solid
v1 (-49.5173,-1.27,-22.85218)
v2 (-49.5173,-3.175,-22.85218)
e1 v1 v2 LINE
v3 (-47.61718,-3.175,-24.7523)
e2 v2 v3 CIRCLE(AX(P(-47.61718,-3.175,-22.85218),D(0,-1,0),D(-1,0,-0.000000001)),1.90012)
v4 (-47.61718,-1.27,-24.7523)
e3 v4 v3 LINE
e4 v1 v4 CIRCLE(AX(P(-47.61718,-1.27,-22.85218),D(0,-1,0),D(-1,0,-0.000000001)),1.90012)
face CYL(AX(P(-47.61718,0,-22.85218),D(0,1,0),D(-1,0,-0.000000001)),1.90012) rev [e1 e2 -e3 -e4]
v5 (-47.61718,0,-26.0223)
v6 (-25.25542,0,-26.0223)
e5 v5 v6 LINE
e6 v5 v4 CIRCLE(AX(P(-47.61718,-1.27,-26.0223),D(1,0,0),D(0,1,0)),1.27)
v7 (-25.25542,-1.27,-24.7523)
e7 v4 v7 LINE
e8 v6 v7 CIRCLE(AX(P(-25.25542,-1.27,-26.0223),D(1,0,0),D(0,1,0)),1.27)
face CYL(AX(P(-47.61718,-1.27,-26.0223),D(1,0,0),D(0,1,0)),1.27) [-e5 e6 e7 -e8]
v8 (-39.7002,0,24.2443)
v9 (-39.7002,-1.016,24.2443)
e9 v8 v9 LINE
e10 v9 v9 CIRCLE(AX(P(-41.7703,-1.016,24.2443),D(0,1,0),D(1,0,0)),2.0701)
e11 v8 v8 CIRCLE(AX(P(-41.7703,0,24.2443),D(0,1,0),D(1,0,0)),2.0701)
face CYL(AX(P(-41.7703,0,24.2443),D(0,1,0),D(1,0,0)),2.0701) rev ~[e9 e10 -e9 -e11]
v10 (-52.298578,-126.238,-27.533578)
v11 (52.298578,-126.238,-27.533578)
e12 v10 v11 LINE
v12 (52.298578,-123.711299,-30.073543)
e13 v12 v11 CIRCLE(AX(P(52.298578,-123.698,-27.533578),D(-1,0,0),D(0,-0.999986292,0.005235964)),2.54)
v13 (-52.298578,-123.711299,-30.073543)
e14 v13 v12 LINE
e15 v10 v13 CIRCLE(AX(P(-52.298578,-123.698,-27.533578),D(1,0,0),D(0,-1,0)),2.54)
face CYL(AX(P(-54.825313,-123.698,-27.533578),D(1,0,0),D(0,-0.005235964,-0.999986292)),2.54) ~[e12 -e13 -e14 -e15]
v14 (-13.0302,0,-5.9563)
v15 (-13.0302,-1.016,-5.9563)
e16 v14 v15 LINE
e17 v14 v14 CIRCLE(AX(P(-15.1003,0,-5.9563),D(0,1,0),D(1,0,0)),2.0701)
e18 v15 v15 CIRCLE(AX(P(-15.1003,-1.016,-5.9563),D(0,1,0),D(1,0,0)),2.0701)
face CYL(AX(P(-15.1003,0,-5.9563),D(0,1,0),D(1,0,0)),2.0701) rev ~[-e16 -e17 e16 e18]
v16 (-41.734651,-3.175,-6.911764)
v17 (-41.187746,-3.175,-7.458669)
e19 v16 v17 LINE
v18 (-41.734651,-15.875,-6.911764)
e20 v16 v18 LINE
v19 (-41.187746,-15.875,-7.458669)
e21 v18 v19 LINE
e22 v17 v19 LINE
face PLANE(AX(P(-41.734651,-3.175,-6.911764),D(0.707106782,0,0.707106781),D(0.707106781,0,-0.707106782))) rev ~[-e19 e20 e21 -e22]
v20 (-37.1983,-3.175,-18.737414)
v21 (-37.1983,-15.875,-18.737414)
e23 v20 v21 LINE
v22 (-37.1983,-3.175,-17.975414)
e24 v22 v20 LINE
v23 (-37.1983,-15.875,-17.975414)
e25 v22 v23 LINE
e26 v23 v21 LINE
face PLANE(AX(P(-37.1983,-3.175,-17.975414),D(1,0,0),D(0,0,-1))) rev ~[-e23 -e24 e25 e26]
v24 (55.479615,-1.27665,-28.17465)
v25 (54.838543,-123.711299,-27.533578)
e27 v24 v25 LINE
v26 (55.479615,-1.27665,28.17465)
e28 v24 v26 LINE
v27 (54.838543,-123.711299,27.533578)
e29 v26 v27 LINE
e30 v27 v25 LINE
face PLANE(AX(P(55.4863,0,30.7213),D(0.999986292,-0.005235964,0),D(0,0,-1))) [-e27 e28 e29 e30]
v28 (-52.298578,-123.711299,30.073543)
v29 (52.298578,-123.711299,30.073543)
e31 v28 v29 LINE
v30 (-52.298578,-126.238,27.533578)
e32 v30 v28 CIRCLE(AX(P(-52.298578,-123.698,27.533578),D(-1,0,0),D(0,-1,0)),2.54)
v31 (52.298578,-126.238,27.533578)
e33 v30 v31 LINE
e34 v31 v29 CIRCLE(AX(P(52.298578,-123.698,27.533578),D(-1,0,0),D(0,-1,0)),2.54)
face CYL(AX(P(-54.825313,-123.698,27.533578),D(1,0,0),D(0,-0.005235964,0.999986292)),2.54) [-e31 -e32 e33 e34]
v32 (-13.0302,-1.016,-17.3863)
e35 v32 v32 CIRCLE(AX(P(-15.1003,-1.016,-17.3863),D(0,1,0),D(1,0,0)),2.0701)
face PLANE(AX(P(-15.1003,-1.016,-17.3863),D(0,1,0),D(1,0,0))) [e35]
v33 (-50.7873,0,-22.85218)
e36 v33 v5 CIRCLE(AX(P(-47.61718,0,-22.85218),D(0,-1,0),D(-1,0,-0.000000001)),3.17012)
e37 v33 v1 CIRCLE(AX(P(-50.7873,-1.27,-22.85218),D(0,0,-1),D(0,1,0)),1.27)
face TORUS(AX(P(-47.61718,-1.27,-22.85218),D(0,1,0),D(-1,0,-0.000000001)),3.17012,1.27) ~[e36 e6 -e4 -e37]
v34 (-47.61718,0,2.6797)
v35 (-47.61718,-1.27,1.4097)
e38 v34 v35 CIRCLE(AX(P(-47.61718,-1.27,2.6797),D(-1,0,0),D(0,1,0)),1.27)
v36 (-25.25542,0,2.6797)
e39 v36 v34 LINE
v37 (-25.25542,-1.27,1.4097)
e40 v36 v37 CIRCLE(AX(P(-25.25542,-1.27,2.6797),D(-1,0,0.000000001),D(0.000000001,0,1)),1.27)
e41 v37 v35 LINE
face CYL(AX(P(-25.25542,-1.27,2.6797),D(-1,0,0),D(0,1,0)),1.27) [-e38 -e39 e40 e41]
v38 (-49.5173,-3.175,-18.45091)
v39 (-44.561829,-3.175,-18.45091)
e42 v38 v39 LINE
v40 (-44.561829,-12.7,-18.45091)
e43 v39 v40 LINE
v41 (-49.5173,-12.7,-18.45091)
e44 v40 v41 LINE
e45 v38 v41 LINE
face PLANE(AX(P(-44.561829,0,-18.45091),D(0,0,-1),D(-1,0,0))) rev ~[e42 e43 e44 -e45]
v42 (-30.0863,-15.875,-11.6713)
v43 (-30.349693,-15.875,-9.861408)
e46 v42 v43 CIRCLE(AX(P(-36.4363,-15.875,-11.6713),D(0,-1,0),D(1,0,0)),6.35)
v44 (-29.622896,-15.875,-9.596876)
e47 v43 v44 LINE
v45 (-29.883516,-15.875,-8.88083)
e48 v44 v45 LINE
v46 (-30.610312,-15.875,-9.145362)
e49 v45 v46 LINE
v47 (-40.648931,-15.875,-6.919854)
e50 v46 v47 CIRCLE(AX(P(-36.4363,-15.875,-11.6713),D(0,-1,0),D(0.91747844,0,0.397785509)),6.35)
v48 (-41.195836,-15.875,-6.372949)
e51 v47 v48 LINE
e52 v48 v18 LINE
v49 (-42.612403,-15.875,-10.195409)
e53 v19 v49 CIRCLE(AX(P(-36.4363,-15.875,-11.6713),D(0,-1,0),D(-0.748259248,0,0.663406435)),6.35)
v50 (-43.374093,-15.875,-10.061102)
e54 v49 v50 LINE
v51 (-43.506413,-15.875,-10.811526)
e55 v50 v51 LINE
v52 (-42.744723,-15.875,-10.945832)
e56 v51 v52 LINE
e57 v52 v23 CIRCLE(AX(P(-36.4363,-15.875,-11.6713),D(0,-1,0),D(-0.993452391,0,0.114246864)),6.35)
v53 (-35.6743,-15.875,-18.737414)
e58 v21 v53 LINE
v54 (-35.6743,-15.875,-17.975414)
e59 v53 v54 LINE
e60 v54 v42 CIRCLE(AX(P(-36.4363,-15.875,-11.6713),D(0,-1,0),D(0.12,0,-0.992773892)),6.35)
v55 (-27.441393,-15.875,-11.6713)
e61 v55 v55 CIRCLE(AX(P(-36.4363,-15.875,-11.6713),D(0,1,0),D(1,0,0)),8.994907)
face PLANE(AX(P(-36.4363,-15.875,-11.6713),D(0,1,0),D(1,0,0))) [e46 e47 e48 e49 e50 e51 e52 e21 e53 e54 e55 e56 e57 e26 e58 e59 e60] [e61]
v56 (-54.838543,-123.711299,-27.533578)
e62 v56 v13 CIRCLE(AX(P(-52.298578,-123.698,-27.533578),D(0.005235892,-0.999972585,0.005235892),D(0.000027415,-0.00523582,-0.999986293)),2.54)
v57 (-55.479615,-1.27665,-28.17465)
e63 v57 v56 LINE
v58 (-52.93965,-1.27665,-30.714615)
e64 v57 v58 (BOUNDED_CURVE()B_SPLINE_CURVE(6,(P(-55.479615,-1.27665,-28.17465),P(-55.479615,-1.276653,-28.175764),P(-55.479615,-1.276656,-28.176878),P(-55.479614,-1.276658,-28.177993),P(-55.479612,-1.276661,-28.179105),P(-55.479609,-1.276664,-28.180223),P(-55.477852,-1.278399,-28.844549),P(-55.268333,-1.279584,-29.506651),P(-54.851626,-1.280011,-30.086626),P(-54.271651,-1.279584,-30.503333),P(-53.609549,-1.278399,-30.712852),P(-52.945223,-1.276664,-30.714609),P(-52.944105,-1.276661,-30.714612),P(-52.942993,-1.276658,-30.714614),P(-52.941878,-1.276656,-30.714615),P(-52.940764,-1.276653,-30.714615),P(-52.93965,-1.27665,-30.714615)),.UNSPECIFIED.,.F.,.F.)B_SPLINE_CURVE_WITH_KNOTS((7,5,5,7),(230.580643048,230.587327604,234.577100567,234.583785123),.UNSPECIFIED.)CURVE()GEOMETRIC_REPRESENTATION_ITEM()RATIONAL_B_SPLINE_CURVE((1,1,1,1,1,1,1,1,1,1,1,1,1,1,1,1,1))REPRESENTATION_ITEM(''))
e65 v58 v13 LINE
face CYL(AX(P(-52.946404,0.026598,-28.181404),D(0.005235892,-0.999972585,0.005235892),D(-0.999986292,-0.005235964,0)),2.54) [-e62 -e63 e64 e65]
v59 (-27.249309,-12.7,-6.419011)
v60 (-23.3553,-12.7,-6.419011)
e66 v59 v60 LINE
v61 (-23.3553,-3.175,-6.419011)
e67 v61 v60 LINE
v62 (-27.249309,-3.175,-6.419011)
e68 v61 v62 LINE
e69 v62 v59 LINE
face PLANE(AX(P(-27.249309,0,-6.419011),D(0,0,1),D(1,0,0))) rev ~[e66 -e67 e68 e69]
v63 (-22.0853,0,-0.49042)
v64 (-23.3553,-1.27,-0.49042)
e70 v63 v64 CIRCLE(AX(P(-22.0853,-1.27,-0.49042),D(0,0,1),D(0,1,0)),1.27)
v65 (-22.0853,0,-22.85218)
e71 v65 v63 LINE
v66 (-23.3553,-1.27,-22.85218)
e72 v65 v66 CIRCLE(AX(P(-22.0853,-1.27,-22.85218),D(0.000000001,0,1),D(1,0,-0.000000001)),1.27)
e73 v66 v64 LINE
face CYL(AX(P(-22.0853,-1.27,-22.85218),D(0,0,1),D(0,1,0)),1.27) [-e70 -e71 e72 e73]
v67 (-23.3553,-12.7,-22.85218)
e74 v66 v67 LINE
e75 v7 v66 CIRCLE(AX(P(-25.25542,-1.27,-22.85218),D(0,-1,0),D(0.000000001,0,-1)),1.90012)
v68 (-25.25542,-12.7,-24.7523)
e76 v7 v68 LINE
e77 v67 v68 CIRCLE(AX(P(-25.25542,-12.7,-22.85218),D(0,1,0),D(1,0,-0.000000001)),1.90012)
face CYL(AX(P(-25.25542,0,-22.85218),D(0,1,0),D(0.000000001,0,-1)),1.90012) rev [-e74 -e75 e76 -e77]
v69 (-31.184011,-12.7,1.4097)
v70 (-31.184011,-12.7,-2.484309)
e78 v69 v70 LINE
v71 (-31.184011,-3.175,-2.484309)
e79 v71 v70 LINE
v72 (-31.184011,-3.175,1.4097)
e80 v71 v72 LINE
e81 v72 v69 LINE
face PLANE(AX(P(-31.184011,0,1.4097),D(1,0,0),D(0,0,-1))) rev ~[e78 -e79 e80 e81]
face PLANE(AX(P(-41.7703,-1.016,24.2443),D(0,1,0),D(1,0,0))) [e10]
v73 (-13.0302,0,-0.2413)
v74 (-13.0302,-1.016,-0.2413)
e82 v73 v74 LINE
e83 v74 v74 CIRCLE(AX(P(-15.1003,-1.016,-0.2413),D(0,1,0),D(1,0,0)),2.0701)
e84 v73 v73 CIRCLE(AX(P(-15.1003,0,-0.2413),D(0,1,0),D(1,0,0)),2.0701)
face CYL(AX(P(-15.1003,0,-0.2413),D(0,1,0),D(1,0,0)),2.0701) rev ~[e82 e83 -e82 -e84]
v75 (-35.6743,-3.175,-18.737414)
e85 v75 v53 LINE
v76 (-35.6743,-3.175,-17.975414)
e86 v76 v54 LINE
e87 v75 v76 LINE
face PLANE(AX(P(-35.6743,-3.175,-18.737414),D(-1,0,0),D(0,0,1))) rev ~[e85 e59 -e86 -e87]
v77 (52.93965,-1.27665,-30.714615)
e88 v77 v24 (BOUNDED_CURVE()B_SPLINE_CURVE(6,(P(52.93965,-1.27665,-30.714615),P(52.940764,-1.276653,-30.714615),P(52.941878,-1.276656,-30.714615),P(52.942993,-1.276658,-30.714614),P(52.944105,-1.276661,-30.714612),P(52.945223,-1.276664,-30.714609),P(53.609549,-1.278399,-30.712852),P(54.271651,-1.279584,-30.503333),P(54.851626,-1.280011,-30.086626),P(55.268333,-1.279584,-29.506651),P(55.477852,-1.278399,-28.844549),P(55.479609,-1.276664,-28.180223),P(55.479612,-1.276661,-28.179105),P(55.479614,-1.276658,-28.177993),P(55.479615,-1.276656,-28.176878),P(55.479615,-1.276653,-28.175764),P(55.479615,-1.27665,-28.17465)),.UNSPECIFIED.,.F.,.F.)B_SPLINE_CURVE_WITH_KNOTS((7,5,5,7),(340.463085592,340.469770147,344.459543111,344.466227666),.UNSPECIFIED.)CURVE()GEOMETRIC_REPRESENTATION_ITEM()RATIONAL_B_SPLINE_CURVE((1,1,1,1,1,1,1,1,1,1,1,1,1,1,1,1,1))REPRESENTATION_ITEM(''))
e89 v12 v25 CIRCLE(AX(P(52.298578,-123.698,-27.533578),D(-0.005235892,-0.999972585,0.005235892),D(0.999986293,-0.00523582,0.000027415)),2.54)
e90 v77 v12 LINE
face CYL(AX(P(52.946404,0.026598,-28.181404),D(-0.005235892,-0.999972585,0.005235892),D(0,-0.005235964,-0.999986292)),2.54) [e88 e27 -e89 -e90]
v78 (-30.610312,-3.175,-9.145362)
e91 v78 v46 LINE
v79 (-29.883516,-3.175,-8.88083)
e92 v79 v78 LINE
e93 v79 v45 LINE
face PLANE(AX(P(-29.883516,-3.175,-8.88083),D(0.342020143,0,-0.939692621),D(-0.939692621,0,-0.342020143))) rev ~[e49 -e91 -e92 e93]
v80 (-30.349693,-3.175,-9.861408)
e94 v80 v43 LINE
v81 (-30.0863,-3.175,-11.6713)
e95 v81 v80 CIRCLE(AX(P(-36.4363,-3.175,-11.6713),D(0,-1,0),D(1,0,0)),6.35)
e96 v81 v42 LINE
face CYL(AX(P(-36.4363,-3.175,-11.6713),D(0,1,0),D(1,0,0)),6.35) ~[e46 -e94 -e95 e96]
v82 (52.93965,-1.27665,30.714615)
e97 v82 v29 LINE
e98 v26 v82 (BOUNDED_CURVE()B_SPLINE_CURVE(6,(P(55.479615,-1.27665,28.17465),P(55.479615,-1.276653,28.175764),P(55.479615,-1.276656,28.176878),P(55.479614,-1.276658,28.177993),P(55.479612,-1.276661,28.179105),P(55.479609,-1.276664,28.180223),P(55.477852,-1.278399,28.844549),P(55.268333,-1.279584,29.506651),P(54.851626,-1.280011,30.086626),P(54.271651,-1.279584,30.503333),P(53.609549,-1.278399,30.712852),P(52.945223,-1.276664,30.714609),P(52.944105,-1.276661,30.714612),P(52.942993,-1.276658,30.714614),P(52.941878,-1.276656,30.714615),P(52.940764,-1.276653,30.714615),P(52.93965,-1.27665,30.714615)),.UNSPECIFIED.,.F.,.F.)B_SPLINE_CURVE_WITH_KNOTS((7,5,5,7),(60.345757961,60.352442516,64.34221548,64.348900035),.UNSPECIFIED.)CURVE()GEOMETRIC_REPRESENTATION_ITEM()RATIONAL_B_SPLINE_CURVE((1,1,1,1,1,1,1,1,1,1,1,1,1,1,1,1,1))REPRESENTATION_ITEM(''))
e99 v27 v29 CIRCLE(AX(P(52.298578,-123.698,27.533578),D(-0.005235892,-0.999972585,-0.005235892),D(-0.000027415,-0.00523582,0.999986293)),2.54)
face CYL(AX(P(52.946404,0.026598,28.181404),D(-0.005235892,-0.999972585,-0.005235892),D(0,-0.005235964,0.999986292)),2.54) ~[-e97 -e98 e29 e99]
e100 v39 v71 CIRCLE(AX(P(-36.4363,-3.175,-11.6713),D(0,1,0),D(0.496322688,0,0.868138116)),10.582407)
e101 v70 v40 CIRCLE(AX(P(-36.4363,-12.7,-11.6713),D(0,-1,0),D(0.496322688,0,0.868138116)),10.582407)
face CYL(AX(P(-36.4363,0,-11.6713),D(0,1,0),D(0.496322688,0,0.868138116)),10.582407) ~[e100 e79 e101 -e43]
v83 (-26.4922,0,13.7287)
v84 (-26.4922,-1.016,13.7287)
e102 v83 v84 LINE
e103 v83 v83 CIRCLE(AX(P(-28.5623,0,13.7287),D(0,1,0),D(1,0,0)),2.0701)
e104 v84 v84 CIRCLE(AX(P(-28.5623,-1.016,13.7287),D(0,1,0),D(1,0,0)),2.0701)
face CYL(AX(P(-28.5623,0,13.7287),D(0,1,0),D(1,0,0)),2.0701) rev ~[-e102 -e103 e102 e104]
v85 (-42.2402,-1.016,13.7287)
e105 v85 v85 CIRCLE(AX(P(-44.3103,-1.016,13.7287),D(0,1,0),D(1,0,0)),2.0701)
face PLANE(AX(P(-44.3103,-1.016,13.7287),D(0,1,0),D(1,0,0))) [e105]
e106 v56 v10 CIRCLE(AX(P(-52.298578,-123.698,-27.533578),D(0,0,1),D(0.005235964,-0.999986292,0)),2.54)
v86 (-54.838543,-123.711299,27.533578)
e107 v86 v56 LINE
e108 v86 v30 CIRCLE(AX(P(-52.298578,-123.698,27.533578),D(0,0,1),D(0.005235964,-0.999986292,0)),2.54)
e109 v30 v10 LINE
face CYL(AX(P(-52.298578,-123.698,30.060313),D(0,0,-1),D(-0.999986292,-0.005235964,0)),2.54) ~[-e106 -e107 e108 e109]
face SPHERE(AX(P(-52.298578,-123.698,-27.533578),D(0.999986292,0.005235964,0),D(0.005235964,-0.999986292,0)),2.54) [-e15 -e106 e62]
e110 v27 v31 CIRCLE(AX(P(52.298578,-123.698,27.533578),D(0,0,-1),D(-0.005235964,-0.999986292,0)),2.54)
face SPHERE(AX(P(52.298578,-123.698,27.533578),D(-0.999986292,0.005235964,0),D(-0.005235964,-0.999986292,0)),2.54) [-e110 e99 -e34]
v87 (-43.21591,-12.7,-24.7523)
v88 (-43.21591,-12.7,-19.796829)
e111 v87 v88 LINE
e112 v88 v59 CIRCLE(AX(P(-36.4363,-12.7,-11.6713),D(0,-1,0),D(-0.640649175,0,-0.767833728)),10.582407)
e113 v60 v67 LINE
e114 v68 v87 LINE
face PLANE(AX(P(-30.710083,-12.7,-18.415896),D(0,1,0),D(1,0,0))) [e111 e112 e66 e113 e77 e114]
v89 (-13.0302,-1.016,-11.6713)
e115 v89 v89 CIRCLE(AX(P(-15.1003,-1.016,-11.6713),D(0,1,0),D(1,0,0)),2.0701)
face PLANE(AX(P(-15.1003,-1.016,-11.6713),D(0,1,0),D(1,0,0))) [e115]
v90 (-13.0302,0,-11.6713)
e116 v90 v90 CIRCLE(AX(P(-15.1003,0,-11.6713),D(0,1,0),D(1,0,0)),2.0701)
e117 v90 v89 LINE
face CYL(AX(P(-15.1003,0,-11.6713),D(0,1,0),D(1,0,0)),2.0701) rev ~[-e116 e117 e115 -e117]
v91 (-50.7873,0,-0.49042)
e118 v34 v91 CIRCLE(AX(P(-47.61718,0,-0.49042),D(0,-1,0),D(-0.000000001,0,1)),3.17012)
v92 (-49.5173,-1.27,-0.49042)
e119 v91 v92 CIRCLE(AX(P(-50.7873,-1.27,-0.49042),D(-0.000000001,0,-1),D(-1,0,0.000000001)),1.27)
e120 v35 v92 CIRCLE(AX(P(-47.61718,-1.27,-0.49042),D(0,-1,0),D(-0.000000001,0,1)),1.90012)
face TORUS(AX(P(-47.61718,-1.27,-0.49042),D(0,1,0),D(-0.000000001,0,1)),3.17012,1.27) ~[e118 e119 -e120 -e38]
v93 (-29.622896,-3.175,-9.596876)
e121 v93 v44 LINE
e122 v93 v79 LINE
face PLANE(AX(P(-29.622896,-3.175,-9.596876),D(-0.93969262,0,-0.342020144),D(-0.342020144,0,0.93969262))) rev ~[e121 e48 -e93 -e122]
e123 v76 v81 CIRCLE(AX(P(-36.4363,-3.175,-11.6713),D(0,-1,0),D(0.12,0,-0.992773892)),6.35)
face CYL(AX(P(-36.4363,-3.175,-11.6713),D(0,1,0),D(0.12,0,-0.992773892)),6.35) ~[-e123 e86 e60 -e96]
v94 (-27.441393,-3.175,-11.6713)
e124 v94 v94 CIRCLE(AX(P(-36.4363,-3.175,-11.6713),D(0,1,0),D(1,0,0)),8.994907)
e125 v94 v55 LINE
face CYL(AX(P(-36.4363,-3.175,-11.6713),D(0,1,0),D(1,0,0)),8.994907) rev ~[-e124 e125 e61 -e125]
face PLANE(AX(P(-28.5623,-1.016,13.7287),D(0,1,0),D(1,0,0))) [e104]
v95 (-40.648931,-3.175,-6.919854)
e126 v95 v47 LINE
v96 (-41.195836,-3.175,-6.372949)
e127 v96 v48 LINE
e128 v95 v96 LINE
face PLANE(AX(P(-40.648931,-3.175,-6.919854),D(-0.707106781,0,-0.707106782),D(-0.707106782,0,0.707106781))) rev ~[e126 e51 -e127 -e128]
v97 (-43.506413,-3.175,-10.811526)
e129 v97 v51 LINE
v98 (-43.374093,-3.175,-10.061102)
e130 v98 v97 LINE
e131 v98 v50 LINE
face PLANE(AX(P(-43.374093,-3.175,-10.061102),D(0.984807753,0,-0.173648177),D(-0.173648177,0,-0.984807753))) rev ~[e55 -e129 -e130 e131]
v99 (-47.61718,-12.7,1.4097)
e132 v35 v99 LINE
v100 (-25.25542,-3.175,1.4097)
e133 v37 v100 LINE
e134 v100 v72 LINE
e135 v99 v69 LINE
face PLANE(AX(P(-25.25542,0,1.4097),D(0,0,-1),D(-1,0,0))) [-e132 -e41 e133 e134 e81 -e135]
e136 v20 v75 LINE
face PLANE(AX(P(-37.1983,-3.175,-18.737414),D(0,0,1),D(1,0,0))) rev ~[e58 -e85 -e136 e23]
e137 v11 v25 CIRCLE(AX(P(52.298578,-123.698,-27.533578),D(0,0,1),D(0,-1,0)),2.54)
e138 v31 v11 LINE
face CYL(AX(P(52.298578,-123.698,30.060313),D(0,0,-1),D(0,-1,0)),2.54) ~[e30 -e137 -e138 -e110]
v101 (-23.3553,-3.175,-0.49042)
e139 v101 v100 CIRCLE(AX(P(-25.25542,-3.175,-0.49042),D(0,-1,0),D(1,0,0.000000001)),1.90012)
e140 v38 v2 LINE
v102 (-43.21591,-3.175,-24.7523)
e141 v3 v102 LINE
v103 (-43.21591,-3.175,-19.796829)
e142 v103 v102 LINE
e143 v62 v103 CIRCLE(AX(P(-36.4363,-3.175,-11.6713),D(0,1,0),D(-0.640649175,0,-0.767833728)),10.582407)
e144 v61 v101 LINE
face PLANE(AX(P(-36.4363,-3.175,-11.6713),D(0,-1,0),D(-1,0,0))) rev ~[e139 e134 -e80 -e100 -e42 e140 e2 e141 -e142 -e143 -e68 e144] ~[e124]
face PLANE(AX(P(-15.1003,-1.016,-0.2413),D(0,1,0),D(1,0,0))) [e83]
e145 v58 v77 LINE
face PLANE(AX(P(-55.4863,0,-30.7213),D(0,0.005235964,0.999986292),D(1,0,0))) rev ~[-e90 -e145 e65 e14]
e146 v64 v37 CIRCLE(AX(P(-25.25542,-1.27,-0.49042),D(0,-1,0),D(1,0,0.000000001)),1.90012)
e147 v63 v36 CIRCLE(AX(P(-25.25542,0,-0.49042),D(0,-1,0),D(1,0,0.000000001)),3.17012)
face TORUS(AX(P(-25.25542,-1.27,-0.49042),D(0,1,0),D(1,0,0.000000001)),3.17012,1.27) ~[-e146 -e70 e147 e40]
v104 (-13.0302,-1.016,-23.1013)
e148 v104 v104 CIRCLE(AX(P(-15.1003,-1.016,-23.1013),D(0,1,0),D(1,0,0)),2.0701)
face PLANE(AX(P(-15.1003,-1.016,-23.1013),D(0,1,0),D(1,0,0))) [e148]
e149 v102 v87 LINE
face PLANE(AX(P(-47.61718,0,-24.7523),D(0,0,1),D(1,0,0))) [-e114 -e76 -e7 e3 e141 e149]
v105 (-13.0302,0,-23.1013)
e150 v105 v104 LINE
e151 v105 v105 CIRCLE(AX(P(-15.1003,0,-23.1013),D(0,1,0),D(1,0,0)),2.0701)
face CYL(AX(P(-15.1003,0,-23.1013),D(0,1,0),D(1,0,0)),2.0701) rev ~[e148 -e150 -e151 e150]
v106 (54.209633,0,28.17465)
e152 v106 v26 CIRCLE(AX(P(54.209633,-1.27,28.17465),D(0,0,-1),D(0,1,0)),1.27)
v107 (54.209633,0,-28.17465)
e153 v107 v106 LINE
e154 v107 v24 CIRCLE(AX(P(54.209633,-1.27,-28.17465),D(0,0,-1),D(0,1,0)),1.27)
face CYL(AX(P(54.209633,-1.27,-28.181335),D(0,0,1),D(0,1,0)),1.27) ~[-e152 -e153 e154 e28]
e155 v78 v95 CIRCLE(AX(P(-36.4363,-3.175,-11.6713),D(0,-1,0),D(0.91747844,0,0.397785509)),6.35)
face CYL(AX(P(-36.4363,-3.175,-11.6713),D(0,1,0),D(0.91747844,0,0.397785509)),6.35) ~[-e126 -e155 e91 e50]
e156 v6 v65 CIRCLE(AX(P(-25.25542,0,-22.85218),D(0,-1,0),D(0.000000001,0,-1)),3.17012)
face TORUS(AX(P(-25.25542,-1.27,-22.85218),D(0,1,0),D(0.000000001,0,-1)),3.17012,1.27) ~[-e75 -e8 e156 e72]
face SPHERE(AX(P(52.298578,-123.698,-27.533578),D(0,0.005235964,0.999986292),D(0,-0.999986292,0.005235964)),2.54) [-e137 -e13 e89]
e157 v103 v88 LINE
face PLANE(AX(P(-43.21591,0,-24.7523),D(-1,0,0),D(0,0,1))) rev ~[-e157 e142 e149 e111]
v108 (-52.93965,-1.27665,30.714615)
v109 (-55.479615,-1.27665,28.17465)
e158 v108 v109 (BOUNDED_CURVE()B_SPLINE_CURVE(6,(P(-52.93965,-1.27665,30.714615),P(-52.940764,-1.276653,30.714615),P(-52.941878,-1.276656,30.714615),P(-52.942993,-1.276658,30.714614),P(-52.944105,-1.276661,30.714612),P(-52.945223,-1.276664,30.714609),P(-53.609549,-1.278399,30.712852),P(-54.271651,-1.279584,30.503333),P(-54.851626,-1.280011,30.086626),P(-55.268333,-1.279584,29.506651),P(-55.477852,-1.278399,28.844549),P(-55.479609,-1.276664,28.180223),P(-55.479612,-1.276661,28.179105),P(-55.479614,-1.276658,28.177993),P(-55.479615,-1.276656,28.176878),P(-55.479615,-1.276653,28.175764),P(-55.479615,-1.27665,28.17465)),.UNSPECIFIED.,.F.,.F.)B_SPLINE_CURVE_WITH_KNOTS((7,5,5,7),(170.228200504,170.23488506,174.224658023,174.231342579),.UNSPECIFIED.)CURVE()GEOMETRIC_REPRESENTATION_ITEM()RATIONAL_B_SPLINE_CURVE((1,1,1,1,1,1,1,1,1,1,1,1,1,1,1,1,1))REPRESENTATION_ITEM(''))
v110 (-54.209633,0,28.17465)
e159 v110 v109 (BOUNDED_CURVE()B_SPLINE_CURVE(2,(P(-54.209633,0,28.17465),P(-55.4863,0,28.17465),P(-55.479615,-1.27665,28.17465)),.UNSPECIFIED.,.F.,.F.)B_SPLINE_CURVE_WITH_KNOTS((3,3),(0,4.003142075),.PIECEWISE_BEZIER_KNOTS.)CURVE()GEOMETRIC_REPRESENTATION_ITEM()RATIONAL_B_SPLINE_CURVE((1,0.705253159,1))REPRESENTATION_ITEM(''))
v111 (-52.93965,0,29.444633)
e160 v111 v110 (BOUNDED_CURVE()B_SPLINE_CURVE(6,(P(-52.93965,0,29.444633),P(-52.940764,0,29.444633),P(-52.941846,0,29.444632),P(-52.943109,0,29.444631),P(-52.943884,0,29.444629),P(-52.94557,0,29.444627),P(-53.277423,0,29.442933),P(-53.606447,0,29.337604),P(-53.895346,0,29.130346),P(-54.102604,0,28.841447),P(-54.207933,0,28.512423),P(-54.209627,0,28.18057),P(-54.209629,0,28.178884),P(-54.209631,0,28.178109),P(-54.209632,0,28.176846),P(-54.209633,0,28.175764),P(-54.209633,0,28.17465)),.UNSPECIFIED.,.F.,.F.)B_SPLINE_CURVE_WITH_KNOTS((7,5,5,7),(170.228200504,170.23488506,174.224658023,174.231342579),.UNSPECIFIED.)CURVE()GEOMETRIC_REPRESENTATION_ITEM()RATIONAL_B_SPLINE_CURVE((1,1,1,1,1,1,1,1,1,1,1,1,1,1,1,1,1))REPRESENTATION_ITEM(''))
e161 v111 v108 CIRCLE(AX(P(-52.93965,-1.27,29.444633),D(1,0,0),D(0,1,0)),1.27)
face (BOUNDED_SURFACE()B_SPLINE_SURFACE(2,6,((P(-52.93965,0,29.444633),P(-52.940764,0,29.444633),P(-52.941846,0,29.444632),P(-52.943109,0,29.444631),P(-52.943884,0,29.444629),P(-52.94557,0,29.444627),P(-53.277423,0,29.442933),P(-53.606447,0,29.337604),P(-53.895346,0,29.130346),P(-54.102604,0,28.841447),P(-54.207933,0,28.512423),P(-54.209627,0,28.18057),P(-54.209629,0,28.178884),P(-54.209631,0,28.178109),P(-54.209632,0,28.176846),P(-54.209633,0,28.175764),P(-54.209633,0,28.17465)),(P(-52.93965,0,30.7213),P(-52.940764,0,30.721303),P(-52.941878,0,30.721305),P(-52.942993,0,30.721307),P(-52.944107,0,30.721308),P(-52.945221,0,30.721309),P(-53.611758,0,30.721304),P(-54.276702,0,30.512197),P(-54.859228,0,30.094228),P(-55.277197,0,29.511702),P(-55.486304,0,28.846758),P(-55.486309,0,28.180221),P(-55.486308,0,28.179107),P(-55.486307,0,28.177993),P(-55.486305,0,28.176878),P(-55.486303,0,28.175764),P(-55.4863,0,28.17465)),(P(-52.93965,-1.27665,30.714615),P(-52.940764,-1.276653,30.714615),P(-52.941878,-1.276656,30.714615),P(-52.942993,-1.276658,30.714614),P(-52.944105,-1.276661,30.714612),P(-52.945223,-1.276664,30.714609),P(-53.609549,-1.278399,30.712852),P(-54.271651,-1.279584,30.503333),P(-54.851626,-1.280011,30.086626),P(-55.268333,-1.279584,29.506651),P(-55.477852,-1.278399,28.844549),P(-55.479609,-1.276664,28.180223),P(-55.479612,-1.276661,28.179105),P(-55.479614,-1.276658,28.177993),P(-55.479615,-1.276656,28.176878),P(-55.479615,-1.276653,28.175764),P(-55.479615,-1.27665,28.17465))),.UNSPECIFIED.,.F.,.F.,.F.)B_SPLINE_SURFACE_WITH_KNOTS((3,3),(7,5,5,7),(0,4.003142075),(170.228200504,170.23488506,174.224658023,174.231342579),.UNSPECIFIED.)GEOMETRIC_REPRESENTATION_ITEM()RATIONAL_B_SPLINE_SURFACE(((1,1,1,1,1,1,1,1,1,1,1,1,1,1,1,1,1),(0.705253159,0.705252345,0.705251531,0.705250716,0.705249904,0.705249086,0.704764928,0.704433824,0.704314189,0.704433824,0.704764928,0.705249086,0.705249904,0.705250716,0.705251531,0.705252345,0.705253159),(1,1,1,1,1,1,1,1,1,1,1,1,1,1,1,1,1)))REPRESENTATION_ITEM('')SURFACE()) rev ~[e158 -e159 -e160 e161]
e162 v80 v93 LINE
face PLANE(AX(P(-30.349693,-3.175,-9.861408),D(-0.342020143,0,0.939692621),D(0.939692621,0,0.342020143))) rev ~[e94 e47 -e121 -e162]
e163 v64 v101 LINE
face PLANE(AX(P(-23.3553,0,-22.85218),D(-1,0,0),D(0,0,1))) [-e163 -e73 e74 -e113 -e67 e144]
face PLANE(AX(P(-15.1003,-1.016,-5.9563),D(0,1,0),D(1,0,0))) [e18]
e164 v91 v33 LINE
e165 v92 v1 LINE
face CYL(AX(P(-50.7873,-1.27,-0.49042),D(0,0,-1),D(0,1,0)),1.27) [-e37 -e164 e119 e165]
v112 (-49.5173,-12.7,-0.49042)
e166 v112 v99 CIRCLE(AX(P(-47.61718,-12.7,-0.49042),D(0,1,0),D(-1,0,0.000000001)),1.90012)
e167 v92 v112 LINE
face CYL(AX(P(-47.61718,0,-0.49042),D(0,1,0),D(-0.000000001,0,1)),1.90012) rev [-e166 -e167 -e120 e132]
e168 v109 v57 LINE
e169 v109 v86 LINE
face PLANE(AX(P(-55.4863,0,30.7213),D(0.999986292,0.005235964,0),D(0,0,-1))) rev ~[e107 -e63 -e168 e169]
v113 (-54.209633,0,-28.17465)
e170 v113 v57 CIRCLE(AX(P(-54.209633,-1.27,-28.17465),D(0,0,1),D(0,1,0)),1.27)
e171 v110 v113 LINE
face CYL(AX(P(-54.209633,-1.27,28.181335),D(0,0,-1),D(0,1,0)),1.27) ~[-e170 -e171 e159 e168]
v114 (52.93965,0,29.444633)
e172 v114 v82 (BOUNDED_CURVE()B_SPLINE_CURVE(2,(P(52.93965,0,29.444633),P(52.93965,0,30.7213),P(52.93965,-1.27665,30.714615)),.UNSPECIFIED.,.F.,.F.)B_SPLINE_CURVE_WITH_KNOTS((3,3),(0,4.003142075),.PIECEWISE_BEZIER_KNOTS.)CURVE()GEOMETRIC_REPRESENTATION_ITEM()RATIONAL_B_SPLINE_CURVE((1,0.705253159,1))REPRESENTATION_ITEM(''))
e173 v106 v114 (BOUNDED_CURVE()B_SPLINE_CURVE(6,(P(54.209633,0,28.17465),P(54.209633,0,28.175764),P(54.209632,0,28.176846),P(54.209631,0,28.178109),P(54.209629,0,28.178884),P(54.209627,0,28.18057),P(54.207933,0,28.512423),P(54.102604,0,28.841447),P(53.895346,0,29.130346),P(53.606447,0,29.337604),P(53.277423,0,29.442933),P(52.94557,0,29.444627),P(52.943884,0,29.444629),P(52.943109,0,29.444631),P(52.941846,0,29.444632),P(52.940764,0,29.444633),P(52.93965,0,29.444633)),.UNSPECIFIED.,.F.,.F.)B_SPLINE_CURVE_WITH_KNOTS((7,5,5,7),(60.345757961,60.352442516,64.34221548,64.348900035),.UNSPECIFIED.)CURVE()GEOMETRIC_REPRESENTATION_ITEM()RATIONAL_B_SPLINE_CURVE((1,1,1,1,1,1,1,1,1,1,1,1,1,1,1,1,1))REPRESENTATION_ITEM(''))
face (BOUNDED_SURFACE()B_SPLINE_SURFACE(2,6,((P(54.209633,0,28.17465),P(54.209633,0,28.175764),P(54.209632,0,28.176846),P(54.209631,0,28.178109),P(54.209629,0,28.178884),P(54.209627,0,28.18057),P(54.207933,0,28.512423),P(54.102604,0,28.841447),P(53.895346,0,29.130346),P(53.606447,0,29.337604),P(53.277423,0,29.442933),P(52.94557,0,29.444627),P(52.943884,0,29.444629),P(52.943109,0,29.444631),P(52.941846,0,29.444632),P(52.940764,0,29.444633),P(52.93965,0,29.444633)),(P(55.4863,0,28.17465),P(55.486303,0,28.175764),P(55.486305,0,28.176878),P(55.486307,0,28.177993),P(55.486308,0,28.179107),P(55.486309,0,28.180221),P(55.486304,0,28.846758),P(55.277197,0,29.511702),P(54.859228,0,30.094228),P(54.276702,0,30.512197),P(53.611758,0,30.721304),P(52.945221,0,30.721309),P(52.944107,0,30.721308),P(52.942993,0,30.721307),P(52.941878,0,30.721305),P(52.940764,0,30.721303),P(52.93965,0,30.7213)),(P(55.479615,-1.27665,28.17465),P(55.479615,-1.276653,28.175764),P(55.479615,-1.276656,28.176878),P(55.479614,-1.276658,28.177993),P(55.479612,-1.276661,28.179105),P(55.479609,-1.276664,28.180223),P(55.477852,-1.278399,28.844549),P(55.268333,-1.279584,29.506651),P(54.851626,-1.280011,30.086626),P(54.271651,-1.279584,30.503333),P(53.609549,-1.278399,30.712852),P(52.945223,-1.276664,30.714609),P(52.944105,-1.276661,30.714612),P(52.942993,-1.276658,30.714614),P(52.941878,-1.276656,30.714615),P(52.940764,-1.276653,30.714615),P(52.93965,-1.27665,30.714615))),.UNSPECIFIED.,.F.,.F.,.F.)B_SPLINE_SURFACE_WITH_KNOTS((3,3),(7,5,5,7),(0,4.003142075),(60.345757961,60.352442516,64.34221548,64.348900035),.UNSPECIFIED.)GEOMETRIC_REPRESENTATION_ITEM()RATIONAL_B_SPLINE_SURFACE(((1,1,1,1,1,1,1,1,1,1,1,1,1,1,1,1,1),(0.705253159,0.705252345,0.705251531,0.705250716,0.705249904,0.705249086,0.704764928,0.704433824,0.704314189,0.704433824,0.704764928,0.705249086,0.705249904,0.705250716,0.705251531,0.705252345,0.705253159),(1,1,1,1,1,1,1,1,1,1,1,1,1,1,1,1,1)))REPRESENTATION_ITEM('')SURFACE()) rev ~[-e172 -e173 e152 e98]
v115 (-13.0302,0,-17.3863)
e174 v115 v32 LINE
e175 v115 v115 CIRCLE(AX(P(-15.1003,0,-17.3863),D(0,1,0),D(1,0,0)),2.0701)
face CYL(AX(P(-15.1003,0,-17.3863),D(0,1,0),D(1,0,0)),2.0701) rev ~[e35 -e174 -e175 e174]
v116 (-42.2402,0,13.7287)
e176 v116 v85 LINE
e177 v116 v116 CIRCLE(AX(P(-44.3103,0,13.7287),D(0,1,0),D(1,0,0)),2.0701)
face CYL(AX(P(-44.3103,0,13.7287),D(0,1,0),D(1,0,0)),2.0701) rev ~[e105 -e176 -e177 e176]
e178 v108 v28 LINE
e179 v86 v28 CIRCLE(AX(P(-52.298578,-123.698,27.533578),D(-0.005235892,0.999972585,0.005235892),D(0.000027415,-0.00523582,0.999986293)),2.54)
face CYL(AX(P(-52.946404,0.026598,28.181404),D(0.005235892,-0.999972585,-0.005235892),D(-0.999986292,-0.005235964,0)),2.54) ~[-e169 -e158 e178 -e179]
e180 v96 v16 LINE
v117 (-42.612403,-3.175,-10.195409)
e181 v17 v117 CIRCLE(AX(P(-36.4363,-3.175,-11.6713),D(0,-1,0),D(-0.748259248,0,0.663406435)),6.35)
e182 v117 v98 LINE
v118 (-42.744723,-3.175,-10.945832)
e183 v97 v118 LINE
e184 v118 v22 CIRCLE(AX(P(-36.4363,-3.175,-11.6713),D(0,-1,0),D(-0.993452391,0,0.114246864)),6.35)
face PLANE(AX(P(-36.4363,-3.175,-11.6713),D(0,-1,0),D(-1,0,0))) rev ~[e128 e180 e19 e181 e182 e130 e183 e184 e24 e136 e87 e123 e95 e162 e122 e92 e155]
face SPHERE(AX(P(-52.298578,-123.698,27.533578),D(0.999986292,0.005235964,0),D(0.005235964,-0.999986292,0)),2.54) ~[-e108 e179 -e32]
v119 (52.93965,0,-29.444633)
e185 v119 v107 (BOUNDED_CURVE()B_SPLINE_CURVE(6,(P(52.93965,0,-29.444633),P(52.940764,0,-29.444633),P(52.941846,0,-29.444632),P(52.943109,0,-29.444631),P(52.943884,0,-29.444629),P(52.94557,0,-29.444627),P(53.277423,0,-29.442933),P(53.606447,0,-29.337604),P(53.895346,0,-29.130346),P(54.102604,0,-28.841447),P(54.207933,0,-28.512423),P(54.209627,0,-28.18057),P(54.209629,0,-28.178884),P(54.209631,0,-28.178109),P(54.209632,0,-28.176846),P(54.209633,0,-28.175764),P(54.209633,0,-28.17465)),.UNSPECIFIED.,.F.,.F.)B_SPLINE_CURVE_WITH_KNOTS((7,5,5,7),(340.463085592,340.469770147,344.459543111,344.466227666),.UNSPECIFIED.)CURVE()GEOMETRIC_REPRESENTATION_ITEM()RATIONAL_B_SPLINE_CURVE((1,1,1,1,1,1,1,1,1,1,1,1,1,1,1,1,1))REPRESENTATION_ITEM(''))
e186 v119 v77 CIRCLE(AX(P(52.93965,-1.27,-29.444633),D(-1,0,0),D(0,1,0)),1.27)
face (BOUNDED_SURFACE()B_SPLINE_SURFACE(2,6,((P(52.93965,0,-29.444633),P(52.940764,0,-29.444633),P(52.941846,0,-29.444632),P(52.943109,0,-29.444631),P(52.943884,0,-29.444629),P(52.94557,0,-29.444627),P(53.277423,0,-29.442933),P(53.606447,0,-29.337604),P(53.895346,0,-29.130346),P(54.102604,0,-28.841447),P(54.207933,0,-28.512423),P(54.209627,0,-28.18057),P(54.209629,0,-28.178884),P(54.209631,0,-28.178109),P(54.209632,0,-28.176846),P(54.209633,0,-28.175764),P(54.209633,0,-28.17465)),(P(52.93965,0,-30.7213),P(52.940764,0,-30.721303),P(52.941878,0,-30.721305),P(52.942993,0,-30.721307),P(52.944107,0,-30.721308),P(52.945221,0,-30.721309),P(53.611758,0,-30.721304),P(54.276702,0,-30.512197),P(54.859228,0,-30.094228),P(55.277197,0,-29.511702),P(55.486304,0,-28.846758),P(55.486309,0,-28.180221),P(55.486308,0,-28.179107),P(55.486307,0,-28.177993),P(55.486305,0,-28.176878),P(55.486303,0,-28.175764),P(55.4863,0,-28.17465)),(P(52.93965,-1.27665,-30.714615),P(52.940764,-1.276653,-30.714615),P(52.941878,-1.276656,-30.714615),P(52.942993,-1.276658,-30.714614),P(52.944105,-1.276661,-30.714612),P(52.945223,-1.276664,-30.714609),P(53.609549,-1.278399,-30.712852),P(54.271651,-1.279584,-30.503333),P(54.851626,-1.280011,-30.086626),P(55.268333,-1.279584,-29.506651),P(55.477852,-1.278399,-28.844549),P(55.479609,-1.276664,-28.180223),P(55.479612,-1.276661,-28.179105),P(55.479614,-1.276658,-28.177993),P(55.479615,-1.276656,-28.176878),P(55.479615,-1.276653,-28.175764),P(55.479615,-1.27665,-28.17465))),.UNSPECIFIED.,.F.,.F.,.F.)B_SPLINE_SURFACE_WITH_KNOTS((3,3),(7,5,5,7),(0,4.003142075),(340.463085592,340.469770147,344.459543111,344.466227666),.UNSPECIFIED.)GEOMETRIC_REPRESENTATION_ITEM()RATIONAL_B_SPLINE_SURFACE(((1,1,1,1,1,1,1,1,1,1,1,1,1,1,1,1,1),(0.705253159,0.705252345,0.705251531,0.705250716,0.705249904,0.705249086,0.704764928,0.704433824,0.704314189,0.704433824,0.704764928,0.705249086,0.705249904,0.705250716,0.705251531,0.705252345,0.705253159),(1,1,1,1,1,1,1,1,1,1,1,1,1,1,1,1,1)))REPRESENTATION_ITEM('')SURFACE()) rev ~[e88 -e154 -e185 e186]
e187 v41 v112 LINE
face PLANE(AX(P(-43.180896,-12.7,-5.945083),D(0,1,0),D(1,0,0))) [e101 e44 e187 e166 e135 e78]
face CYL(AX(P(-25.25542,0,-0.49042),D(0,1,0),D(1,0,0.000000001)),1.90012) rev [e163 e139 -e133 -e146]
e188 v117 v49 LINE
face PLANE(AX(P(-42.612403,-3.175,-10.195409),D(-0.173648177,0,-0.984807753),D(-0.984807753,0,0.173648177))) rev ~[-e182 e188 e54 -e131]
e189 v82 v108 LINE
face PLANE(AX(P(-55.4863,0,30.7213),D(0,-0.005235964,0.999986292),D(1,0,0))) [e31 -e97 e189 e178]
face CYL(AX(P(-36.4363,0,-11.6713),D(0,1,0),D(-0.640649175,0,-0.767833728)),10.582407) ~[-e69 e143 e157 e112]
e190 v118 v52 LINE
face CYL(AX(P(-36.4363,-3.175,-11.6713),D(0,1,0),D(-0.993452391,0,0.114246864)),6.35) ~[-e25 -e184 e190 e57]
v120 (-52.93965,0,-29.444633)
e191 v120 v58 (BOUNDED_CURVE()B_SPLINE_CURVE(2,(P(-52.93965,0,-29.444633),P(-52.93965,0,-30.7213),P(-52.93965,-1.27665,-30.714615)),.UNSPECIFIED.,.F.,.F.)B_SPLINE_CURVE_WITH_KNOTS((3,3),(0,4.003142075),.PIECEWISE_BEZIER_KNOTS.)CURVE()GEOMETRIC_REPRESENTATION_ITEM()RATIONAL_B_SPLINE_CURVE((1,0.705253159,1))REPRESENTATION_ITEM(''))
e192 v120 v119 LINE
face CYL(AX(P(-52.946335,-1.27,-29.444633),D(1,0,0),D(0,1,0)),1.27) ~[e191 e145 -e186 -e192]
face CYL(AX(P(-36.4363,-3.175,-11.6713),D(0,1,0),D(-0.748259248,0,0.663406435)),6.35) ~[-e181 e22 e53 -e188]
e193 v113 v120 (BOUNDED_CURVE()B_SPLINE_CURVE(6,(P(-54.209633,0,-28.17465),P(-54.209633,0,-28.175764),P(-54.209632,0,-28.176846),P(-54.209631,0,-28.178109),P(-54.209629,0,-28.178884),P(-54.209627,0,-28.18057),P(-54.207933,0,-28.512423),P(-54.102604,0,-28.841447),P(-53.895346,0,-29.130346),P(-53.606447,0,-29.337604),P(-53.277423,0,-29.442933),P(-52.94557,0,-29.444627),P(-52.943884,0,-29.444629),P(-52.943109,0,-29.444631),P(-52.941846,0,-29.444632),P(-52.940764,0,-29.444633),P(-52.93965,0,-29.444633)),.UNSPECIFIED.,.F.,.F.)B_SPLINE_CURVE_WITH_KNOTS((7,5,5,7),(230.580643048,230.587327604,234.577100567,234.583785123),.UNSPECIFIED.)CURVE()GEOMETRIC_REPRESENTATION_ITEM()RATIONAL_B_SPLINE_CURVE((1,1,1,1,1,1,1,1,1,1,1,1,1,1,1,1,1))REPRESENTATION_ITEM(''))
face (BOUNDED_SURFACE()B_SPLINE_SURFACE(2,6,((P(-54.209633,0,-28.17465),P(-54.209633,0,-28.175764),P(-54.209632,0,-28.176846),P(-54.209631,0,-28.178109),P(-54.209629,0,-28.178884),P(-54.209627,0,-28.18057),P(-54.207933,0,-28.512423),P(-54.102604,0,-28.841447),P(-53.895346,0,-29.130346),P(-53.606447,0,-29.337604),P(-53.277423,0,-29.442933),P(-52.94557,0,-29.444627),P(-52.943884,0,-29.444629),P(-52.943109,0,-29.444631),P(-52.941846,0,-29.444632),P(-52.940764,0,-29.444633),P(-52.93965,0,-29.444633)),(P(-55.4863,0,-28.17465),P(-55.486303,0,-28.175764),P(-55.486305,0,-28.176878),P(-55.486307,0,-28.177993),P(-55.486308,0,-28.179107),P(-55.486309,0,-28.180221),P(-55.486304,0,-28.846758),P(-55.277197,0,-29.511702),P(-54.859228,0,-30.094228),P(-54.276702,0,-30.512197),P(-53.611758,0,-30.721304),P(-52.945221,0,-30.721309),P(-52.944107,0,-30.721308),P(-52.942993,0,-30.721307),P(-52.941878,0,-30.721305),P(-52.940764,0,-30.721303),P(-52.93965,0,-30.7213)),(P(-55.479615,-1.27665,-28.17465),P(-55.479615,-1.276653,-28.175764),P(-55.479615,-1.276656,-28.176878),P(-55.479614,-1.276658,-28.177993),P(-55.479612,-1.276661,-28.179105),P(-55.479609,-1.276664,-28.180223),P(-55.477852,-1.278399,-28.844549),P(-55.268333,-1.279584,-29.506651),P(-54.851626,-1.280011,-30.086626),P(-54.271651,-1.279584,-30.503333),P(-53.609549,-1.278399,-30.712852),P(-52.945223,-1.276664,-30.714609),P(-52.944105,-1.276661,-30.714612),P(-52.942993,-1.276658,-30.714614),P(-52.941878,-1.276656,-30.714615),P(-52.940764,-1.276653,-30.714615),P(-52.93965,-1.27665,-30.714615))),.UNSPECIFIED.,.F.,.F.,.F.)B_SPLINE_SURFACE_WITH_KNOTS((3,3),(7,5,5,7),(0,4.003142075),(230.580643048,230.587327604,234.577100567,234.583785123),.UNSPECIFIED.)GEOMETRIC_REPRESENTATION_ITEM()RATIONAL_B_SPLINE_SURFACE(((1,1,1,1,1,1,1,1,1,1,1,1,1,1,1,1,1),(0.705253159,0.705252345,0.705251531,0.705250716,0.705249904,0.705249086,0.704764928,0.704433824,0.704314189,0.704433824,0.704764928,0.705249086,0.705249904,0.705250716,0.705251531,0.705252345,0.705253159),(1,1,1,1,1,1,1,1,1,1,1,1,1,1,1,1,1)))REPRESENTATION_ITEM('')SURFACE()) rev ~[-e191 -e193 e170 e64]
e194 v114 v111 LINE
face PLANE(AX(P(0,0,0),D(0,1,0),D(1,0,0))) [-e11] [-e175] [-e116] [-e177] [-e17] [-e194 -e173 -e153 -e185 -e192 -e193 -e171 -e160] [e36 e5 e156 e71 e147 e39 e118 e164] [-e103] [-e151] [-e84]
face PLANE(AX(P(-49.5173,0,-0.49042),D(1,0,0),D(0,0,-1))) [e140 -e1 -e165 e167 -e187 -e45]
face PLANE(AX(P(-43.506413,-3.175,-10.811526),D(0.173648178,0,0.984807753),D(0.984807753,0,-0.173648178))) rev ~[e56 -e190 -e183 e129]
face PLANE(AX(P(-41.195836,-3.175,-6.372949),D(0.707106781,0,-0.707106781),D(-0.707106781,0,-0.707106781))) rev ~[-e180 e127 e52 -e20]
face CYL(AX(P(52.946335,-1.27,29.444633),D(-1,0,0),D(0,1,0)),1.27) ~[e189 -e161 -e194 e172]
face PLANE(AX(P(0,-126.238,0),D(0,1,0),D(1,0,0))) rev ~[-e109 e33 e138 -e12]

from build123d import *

# Parameters (mm, degrees)
SKETCH1_W          = 110.9726
SKETCH1_H          = 61.4426
EXTRUDE1_DEPTH     = 126.238
EXTRUDE1_DRAFT     = -0.3
CUT_EXTRUDE1_DEPTH = 3.175
CUT_EXTRUDE2_DEPTH = 12.7
SKETCH10_R         = 8.994906853
CUT_EXTRUDE3_DEPTH = 12.7
FILLET1_R          = 2.54
FILLET2_R          = 1.27
SKETCH2_R          = 2.0701
EXTRUDE2_DEPTH     = 1.016


with BuildPart() as part:
    # Sketch1 → Extrude1 (with draft: the straight prism first)
    with BuildSketch(Plane(origin=(0, 0, 0), x_dir=(1, 0, 0), z_dir=(0, 1, 0))):
        Rectangle(SKETCH1_W, SKETCH1_H)
    extrude(amount=-EXTRUDE1_DEPTH)
    # Extrude1: the draft: its side faces are tilted about the plane it starts from
    extrude1_sides = [part.faces().sort_by_distance(p)[0] for p in [
        (-55.4863, -63.119, 0),
        (0, -63.119, 30.7213),
        (55.4863, -63.119, 0),
        (0, -63.119, -30.7213),
    ]]
    draft(extrude1_sides, Plane(origin=(0, 0, 0), x_dir=(1, 0, 0), z_dir=(0, 1, 0)), EXTRUDE1_DRAFT)

    # Sketch9 → Cut-Extrude1 (cut)
    with BuildSketch(Plane(origin=(0, 0, 0), x_dir=(1, 0, 0), z_dir=(0, 1, 0))):
        with BuildLine():
            Line((-25.255419616, -1.4097), (-47.617180384, -1.4097))
            ThreePointArc((-47.617180384, -1.4097), (-48.960767849, -0.853167849), (-49.5173, 0.490419616))
            Line((-49.5173, 0.490419616), (-49.5173, 22.852180384))
            ThreePointArc((-49.5173, 22.852180384), (-48.960767849, 24.195767849), (-47.617180384, 24.7523))
            Line((-47.617180384, 24.7523), (-25.255419616, 24.7523))
            ThreePointArc((-25.255419616, 24.7523), (-23.911832151, 24.195767849), (-23.3553, 22.852180384))
            Line((-23.3553, 22.852180384), (-23.3553, 0.490419616))
            ThreePointArc((-23.3553, 0.490419616), (-23.911832151, -0.853167849), (-25.255419616, -1.4097))
        make_face()
    extrude(amount=-CUT_EXTRUDE1_DEPTH, mode=Mode.SUBTRACT)

    # Sketch9<3> → Cut-Extrude2 (cut)
    with BuildSketch(Plane(origin=(0, 0, 0), x_dir=(1, 0, 0), z_dir=(0, 1, 0))):
        with BuildLine():
            Line((-47.617180384, -1.4097), (-31.184011382, -1.4097))
            Line((-31.184011382, -1.4097), (-31.184011382, 2.484309248))
            ThreePointArc((-31.184011382, 2.484309248), (-44.547832783, 4.874950192), (-44.56182891, 18.450910219))
            Line((-44.56182891, 18.450910219), (-49.5173, 18.450910219))
            Line((-49.5173, 18.450910219), (-49.5173, 0.490419616))
            ThreePointArc((-49.5173, 0.490419616), (-48.960767849, -0.853167849), (-47.617180384, -1.4097))
        make_face()
        with BuildLine():
            Line((-27.249309248, 6.419011382), (-23.3553, 6.419011382))
            Line((-23.3553, 6.419011382), (-23.3553, 22.852180384))
            ThreePointArc((-23.3553, 22.852180384), (-23.911832151, 24.195767849), (-25.255419616, 24.7523))
            Line((-25.255419616, 24.7523), (-43.215910219, 24.7523))
            Line((-43.215910219, 24.7523), (-43.215910219, 19.79682891))
            ThreePointArc((-43.215910219, 19.79682891), (-29.639950192, 19.782832783), (-27.249309248, 6.419011382))
        make_face()
    extrude(amount=-CUT_EXTRUDE2_DEPTH, mode=Mode.SUBTRACT)

    # Sketch10 → Cut-Extrude3 (cut)
    with BuildSketch(Plane(origin=(0, -3.175, 0), x_dir=(1, 0, 0), z_dir=(0, 1, 0))):
        with Locations((-36.4363, 11.6713)):
            Circle(SKETCH10_R)
        with BuildLine():
            Line((-35.6743, 18.737414212), (-35.6743, 17.975414212))
            ThreePointArc((-35.6743, 17.975414212), (-31.684395119, 15.883413484), (-30.0863, 11.6713))
            ThreePointArc((-30.0863, 11.6713), (-30.152493141, 10.756821264), (-30.349692554, 9.861407793))
            Line((-30.349692554, 9.861407793), (-29.622896406, 9.596875629))
            Line((-29.622896406, 9.596875629), (-29.883515756, 8.880829852))
            Line((-29.883515756, 8.880829852), (-30.610311903, 9.145362016))
            ThreePointArc((-30.610311903, 9.145362016), (-35.061908451, 5.471820355), (-40.648930859, 6.919853773))
            Line((-40.648930859, 6.919853773), (-41.195835744, 6.372948889))
            Line((-41.195835744, 6.372948889), (-41.734651111, 6.911764256))
            Line((-41.734651111, 6.911764256), (-41.187746227, 7.458669141))
            ThreePointArc((-41.187746227, 7.458669141), (-42.068818791, 8.739196306), (-42.612402774, 10.195408906))
            Line((-42.612402774, 10.195408906), (-43.374092784, 10.061102407))
            Line((-43.374092784, 10.061102407), (-43.506412695, 10.811525914))
            Line((-43.506412695, 10.811525914), (-42.744722686, 10.945832414))
            ThreePointArc((-42.744722686, 10.945832414), (-41.421425305, 15.604622476), (-37.1983, 17.975414212))
            Line((-37.1983, 17.975414212), (-37.1983, 18.737414212))
            Line((-37.1983, 18.737414212), (-35.6743, 18.737414212))
        make_face(mode=Mode.SUBTRACT)
    extrude(amount=-CUT_EXTRUDE3_DEPTH, mode=Mode.SUBTRACT)

    # Fillet1
    fillet1_edges = [part.edges().sort_by_distance(p)[0] for p in [
        (0, -126.238, 30.060313337),
        (54.825313337, -126.238, 0),
        (0, -126.238, -30.060313337),
        (-54.825313337, -126.238, 0),
        (-55.155806669, -63.119, -30.390806669),
        (-55.155806669, -63.119, 30.390806669),
        (55.155806669, -63.119, -30.390806669),
        (55.155806669, -63.119, 30.390806669),
    ]]
    fillet(fillet1_edges, radius=FILLET1_R)

    # Fillet2
    fillet2_edges = [part.edges().sort_by_distance(p)[0] for p in [
        (54.742365646, 0, -29.977365646),
        (55.4863, 0, 0),
        (54.742365646, 0, 29.977365646),
        (0, 0, 30.7213),
        (-54.742365646, 0, 29.977365646),
        (-55.4863, 0, 0),
        (-54.742365646, 0, -29.977365646),
        (0, 0, -30.7213),
        (-36.4363, 0, -24.7523),
        (-48.960767849, 0, -24.195767849),
        (-49.5173, 0, -11.6713),
        (-48.960767849, 0, 0.853167849),
        (-36.4363, 0, 1.4097),
        (-23.911832151, 0, 0.853167849),
        (-23.3553, 0, -11.6713),
        (-23.911832151, 0, -24.195767849),
    ]]
    fillet(fillet2_edges, radius=FILLET2_R)

    # Sketch2 → Extrude2 (cut)
    with BuildSketch(Plane(origin=(0, 0, 0), x_dir=(1, 0, 0), z_dir=(0, 1, 0))):
        with Locations((-44.3103, -13.7287)):
            Circle(SKETCH2_R)
        with Locations((-28.5623, -13.7287)):
            Circle(SKETCH2_R)
        with Locations((-41.7703, -24.2443)):
            Circle(SKETCH2_R)
        with Locations((-15.1003, 23.1013)):
            Circle(SKETCH2_R)
        with Locations((-15.1003, 17.3863)):
            Circle(SKETCH2_R)
        with Locations((-15.1003, 11.6713)):
            Circle(SKETCH2_R)
        with Locations((-15.1003, 0.2413)):
            Circle(SKETCH2_R)
        with Locations((-15.1003, 5.9563)):
            Circle(SKETCH2_R)
    extrude(amount=-EXTRUDE2_DEPTH, mode=Mode.SUBTRACT)


solid = part.part
